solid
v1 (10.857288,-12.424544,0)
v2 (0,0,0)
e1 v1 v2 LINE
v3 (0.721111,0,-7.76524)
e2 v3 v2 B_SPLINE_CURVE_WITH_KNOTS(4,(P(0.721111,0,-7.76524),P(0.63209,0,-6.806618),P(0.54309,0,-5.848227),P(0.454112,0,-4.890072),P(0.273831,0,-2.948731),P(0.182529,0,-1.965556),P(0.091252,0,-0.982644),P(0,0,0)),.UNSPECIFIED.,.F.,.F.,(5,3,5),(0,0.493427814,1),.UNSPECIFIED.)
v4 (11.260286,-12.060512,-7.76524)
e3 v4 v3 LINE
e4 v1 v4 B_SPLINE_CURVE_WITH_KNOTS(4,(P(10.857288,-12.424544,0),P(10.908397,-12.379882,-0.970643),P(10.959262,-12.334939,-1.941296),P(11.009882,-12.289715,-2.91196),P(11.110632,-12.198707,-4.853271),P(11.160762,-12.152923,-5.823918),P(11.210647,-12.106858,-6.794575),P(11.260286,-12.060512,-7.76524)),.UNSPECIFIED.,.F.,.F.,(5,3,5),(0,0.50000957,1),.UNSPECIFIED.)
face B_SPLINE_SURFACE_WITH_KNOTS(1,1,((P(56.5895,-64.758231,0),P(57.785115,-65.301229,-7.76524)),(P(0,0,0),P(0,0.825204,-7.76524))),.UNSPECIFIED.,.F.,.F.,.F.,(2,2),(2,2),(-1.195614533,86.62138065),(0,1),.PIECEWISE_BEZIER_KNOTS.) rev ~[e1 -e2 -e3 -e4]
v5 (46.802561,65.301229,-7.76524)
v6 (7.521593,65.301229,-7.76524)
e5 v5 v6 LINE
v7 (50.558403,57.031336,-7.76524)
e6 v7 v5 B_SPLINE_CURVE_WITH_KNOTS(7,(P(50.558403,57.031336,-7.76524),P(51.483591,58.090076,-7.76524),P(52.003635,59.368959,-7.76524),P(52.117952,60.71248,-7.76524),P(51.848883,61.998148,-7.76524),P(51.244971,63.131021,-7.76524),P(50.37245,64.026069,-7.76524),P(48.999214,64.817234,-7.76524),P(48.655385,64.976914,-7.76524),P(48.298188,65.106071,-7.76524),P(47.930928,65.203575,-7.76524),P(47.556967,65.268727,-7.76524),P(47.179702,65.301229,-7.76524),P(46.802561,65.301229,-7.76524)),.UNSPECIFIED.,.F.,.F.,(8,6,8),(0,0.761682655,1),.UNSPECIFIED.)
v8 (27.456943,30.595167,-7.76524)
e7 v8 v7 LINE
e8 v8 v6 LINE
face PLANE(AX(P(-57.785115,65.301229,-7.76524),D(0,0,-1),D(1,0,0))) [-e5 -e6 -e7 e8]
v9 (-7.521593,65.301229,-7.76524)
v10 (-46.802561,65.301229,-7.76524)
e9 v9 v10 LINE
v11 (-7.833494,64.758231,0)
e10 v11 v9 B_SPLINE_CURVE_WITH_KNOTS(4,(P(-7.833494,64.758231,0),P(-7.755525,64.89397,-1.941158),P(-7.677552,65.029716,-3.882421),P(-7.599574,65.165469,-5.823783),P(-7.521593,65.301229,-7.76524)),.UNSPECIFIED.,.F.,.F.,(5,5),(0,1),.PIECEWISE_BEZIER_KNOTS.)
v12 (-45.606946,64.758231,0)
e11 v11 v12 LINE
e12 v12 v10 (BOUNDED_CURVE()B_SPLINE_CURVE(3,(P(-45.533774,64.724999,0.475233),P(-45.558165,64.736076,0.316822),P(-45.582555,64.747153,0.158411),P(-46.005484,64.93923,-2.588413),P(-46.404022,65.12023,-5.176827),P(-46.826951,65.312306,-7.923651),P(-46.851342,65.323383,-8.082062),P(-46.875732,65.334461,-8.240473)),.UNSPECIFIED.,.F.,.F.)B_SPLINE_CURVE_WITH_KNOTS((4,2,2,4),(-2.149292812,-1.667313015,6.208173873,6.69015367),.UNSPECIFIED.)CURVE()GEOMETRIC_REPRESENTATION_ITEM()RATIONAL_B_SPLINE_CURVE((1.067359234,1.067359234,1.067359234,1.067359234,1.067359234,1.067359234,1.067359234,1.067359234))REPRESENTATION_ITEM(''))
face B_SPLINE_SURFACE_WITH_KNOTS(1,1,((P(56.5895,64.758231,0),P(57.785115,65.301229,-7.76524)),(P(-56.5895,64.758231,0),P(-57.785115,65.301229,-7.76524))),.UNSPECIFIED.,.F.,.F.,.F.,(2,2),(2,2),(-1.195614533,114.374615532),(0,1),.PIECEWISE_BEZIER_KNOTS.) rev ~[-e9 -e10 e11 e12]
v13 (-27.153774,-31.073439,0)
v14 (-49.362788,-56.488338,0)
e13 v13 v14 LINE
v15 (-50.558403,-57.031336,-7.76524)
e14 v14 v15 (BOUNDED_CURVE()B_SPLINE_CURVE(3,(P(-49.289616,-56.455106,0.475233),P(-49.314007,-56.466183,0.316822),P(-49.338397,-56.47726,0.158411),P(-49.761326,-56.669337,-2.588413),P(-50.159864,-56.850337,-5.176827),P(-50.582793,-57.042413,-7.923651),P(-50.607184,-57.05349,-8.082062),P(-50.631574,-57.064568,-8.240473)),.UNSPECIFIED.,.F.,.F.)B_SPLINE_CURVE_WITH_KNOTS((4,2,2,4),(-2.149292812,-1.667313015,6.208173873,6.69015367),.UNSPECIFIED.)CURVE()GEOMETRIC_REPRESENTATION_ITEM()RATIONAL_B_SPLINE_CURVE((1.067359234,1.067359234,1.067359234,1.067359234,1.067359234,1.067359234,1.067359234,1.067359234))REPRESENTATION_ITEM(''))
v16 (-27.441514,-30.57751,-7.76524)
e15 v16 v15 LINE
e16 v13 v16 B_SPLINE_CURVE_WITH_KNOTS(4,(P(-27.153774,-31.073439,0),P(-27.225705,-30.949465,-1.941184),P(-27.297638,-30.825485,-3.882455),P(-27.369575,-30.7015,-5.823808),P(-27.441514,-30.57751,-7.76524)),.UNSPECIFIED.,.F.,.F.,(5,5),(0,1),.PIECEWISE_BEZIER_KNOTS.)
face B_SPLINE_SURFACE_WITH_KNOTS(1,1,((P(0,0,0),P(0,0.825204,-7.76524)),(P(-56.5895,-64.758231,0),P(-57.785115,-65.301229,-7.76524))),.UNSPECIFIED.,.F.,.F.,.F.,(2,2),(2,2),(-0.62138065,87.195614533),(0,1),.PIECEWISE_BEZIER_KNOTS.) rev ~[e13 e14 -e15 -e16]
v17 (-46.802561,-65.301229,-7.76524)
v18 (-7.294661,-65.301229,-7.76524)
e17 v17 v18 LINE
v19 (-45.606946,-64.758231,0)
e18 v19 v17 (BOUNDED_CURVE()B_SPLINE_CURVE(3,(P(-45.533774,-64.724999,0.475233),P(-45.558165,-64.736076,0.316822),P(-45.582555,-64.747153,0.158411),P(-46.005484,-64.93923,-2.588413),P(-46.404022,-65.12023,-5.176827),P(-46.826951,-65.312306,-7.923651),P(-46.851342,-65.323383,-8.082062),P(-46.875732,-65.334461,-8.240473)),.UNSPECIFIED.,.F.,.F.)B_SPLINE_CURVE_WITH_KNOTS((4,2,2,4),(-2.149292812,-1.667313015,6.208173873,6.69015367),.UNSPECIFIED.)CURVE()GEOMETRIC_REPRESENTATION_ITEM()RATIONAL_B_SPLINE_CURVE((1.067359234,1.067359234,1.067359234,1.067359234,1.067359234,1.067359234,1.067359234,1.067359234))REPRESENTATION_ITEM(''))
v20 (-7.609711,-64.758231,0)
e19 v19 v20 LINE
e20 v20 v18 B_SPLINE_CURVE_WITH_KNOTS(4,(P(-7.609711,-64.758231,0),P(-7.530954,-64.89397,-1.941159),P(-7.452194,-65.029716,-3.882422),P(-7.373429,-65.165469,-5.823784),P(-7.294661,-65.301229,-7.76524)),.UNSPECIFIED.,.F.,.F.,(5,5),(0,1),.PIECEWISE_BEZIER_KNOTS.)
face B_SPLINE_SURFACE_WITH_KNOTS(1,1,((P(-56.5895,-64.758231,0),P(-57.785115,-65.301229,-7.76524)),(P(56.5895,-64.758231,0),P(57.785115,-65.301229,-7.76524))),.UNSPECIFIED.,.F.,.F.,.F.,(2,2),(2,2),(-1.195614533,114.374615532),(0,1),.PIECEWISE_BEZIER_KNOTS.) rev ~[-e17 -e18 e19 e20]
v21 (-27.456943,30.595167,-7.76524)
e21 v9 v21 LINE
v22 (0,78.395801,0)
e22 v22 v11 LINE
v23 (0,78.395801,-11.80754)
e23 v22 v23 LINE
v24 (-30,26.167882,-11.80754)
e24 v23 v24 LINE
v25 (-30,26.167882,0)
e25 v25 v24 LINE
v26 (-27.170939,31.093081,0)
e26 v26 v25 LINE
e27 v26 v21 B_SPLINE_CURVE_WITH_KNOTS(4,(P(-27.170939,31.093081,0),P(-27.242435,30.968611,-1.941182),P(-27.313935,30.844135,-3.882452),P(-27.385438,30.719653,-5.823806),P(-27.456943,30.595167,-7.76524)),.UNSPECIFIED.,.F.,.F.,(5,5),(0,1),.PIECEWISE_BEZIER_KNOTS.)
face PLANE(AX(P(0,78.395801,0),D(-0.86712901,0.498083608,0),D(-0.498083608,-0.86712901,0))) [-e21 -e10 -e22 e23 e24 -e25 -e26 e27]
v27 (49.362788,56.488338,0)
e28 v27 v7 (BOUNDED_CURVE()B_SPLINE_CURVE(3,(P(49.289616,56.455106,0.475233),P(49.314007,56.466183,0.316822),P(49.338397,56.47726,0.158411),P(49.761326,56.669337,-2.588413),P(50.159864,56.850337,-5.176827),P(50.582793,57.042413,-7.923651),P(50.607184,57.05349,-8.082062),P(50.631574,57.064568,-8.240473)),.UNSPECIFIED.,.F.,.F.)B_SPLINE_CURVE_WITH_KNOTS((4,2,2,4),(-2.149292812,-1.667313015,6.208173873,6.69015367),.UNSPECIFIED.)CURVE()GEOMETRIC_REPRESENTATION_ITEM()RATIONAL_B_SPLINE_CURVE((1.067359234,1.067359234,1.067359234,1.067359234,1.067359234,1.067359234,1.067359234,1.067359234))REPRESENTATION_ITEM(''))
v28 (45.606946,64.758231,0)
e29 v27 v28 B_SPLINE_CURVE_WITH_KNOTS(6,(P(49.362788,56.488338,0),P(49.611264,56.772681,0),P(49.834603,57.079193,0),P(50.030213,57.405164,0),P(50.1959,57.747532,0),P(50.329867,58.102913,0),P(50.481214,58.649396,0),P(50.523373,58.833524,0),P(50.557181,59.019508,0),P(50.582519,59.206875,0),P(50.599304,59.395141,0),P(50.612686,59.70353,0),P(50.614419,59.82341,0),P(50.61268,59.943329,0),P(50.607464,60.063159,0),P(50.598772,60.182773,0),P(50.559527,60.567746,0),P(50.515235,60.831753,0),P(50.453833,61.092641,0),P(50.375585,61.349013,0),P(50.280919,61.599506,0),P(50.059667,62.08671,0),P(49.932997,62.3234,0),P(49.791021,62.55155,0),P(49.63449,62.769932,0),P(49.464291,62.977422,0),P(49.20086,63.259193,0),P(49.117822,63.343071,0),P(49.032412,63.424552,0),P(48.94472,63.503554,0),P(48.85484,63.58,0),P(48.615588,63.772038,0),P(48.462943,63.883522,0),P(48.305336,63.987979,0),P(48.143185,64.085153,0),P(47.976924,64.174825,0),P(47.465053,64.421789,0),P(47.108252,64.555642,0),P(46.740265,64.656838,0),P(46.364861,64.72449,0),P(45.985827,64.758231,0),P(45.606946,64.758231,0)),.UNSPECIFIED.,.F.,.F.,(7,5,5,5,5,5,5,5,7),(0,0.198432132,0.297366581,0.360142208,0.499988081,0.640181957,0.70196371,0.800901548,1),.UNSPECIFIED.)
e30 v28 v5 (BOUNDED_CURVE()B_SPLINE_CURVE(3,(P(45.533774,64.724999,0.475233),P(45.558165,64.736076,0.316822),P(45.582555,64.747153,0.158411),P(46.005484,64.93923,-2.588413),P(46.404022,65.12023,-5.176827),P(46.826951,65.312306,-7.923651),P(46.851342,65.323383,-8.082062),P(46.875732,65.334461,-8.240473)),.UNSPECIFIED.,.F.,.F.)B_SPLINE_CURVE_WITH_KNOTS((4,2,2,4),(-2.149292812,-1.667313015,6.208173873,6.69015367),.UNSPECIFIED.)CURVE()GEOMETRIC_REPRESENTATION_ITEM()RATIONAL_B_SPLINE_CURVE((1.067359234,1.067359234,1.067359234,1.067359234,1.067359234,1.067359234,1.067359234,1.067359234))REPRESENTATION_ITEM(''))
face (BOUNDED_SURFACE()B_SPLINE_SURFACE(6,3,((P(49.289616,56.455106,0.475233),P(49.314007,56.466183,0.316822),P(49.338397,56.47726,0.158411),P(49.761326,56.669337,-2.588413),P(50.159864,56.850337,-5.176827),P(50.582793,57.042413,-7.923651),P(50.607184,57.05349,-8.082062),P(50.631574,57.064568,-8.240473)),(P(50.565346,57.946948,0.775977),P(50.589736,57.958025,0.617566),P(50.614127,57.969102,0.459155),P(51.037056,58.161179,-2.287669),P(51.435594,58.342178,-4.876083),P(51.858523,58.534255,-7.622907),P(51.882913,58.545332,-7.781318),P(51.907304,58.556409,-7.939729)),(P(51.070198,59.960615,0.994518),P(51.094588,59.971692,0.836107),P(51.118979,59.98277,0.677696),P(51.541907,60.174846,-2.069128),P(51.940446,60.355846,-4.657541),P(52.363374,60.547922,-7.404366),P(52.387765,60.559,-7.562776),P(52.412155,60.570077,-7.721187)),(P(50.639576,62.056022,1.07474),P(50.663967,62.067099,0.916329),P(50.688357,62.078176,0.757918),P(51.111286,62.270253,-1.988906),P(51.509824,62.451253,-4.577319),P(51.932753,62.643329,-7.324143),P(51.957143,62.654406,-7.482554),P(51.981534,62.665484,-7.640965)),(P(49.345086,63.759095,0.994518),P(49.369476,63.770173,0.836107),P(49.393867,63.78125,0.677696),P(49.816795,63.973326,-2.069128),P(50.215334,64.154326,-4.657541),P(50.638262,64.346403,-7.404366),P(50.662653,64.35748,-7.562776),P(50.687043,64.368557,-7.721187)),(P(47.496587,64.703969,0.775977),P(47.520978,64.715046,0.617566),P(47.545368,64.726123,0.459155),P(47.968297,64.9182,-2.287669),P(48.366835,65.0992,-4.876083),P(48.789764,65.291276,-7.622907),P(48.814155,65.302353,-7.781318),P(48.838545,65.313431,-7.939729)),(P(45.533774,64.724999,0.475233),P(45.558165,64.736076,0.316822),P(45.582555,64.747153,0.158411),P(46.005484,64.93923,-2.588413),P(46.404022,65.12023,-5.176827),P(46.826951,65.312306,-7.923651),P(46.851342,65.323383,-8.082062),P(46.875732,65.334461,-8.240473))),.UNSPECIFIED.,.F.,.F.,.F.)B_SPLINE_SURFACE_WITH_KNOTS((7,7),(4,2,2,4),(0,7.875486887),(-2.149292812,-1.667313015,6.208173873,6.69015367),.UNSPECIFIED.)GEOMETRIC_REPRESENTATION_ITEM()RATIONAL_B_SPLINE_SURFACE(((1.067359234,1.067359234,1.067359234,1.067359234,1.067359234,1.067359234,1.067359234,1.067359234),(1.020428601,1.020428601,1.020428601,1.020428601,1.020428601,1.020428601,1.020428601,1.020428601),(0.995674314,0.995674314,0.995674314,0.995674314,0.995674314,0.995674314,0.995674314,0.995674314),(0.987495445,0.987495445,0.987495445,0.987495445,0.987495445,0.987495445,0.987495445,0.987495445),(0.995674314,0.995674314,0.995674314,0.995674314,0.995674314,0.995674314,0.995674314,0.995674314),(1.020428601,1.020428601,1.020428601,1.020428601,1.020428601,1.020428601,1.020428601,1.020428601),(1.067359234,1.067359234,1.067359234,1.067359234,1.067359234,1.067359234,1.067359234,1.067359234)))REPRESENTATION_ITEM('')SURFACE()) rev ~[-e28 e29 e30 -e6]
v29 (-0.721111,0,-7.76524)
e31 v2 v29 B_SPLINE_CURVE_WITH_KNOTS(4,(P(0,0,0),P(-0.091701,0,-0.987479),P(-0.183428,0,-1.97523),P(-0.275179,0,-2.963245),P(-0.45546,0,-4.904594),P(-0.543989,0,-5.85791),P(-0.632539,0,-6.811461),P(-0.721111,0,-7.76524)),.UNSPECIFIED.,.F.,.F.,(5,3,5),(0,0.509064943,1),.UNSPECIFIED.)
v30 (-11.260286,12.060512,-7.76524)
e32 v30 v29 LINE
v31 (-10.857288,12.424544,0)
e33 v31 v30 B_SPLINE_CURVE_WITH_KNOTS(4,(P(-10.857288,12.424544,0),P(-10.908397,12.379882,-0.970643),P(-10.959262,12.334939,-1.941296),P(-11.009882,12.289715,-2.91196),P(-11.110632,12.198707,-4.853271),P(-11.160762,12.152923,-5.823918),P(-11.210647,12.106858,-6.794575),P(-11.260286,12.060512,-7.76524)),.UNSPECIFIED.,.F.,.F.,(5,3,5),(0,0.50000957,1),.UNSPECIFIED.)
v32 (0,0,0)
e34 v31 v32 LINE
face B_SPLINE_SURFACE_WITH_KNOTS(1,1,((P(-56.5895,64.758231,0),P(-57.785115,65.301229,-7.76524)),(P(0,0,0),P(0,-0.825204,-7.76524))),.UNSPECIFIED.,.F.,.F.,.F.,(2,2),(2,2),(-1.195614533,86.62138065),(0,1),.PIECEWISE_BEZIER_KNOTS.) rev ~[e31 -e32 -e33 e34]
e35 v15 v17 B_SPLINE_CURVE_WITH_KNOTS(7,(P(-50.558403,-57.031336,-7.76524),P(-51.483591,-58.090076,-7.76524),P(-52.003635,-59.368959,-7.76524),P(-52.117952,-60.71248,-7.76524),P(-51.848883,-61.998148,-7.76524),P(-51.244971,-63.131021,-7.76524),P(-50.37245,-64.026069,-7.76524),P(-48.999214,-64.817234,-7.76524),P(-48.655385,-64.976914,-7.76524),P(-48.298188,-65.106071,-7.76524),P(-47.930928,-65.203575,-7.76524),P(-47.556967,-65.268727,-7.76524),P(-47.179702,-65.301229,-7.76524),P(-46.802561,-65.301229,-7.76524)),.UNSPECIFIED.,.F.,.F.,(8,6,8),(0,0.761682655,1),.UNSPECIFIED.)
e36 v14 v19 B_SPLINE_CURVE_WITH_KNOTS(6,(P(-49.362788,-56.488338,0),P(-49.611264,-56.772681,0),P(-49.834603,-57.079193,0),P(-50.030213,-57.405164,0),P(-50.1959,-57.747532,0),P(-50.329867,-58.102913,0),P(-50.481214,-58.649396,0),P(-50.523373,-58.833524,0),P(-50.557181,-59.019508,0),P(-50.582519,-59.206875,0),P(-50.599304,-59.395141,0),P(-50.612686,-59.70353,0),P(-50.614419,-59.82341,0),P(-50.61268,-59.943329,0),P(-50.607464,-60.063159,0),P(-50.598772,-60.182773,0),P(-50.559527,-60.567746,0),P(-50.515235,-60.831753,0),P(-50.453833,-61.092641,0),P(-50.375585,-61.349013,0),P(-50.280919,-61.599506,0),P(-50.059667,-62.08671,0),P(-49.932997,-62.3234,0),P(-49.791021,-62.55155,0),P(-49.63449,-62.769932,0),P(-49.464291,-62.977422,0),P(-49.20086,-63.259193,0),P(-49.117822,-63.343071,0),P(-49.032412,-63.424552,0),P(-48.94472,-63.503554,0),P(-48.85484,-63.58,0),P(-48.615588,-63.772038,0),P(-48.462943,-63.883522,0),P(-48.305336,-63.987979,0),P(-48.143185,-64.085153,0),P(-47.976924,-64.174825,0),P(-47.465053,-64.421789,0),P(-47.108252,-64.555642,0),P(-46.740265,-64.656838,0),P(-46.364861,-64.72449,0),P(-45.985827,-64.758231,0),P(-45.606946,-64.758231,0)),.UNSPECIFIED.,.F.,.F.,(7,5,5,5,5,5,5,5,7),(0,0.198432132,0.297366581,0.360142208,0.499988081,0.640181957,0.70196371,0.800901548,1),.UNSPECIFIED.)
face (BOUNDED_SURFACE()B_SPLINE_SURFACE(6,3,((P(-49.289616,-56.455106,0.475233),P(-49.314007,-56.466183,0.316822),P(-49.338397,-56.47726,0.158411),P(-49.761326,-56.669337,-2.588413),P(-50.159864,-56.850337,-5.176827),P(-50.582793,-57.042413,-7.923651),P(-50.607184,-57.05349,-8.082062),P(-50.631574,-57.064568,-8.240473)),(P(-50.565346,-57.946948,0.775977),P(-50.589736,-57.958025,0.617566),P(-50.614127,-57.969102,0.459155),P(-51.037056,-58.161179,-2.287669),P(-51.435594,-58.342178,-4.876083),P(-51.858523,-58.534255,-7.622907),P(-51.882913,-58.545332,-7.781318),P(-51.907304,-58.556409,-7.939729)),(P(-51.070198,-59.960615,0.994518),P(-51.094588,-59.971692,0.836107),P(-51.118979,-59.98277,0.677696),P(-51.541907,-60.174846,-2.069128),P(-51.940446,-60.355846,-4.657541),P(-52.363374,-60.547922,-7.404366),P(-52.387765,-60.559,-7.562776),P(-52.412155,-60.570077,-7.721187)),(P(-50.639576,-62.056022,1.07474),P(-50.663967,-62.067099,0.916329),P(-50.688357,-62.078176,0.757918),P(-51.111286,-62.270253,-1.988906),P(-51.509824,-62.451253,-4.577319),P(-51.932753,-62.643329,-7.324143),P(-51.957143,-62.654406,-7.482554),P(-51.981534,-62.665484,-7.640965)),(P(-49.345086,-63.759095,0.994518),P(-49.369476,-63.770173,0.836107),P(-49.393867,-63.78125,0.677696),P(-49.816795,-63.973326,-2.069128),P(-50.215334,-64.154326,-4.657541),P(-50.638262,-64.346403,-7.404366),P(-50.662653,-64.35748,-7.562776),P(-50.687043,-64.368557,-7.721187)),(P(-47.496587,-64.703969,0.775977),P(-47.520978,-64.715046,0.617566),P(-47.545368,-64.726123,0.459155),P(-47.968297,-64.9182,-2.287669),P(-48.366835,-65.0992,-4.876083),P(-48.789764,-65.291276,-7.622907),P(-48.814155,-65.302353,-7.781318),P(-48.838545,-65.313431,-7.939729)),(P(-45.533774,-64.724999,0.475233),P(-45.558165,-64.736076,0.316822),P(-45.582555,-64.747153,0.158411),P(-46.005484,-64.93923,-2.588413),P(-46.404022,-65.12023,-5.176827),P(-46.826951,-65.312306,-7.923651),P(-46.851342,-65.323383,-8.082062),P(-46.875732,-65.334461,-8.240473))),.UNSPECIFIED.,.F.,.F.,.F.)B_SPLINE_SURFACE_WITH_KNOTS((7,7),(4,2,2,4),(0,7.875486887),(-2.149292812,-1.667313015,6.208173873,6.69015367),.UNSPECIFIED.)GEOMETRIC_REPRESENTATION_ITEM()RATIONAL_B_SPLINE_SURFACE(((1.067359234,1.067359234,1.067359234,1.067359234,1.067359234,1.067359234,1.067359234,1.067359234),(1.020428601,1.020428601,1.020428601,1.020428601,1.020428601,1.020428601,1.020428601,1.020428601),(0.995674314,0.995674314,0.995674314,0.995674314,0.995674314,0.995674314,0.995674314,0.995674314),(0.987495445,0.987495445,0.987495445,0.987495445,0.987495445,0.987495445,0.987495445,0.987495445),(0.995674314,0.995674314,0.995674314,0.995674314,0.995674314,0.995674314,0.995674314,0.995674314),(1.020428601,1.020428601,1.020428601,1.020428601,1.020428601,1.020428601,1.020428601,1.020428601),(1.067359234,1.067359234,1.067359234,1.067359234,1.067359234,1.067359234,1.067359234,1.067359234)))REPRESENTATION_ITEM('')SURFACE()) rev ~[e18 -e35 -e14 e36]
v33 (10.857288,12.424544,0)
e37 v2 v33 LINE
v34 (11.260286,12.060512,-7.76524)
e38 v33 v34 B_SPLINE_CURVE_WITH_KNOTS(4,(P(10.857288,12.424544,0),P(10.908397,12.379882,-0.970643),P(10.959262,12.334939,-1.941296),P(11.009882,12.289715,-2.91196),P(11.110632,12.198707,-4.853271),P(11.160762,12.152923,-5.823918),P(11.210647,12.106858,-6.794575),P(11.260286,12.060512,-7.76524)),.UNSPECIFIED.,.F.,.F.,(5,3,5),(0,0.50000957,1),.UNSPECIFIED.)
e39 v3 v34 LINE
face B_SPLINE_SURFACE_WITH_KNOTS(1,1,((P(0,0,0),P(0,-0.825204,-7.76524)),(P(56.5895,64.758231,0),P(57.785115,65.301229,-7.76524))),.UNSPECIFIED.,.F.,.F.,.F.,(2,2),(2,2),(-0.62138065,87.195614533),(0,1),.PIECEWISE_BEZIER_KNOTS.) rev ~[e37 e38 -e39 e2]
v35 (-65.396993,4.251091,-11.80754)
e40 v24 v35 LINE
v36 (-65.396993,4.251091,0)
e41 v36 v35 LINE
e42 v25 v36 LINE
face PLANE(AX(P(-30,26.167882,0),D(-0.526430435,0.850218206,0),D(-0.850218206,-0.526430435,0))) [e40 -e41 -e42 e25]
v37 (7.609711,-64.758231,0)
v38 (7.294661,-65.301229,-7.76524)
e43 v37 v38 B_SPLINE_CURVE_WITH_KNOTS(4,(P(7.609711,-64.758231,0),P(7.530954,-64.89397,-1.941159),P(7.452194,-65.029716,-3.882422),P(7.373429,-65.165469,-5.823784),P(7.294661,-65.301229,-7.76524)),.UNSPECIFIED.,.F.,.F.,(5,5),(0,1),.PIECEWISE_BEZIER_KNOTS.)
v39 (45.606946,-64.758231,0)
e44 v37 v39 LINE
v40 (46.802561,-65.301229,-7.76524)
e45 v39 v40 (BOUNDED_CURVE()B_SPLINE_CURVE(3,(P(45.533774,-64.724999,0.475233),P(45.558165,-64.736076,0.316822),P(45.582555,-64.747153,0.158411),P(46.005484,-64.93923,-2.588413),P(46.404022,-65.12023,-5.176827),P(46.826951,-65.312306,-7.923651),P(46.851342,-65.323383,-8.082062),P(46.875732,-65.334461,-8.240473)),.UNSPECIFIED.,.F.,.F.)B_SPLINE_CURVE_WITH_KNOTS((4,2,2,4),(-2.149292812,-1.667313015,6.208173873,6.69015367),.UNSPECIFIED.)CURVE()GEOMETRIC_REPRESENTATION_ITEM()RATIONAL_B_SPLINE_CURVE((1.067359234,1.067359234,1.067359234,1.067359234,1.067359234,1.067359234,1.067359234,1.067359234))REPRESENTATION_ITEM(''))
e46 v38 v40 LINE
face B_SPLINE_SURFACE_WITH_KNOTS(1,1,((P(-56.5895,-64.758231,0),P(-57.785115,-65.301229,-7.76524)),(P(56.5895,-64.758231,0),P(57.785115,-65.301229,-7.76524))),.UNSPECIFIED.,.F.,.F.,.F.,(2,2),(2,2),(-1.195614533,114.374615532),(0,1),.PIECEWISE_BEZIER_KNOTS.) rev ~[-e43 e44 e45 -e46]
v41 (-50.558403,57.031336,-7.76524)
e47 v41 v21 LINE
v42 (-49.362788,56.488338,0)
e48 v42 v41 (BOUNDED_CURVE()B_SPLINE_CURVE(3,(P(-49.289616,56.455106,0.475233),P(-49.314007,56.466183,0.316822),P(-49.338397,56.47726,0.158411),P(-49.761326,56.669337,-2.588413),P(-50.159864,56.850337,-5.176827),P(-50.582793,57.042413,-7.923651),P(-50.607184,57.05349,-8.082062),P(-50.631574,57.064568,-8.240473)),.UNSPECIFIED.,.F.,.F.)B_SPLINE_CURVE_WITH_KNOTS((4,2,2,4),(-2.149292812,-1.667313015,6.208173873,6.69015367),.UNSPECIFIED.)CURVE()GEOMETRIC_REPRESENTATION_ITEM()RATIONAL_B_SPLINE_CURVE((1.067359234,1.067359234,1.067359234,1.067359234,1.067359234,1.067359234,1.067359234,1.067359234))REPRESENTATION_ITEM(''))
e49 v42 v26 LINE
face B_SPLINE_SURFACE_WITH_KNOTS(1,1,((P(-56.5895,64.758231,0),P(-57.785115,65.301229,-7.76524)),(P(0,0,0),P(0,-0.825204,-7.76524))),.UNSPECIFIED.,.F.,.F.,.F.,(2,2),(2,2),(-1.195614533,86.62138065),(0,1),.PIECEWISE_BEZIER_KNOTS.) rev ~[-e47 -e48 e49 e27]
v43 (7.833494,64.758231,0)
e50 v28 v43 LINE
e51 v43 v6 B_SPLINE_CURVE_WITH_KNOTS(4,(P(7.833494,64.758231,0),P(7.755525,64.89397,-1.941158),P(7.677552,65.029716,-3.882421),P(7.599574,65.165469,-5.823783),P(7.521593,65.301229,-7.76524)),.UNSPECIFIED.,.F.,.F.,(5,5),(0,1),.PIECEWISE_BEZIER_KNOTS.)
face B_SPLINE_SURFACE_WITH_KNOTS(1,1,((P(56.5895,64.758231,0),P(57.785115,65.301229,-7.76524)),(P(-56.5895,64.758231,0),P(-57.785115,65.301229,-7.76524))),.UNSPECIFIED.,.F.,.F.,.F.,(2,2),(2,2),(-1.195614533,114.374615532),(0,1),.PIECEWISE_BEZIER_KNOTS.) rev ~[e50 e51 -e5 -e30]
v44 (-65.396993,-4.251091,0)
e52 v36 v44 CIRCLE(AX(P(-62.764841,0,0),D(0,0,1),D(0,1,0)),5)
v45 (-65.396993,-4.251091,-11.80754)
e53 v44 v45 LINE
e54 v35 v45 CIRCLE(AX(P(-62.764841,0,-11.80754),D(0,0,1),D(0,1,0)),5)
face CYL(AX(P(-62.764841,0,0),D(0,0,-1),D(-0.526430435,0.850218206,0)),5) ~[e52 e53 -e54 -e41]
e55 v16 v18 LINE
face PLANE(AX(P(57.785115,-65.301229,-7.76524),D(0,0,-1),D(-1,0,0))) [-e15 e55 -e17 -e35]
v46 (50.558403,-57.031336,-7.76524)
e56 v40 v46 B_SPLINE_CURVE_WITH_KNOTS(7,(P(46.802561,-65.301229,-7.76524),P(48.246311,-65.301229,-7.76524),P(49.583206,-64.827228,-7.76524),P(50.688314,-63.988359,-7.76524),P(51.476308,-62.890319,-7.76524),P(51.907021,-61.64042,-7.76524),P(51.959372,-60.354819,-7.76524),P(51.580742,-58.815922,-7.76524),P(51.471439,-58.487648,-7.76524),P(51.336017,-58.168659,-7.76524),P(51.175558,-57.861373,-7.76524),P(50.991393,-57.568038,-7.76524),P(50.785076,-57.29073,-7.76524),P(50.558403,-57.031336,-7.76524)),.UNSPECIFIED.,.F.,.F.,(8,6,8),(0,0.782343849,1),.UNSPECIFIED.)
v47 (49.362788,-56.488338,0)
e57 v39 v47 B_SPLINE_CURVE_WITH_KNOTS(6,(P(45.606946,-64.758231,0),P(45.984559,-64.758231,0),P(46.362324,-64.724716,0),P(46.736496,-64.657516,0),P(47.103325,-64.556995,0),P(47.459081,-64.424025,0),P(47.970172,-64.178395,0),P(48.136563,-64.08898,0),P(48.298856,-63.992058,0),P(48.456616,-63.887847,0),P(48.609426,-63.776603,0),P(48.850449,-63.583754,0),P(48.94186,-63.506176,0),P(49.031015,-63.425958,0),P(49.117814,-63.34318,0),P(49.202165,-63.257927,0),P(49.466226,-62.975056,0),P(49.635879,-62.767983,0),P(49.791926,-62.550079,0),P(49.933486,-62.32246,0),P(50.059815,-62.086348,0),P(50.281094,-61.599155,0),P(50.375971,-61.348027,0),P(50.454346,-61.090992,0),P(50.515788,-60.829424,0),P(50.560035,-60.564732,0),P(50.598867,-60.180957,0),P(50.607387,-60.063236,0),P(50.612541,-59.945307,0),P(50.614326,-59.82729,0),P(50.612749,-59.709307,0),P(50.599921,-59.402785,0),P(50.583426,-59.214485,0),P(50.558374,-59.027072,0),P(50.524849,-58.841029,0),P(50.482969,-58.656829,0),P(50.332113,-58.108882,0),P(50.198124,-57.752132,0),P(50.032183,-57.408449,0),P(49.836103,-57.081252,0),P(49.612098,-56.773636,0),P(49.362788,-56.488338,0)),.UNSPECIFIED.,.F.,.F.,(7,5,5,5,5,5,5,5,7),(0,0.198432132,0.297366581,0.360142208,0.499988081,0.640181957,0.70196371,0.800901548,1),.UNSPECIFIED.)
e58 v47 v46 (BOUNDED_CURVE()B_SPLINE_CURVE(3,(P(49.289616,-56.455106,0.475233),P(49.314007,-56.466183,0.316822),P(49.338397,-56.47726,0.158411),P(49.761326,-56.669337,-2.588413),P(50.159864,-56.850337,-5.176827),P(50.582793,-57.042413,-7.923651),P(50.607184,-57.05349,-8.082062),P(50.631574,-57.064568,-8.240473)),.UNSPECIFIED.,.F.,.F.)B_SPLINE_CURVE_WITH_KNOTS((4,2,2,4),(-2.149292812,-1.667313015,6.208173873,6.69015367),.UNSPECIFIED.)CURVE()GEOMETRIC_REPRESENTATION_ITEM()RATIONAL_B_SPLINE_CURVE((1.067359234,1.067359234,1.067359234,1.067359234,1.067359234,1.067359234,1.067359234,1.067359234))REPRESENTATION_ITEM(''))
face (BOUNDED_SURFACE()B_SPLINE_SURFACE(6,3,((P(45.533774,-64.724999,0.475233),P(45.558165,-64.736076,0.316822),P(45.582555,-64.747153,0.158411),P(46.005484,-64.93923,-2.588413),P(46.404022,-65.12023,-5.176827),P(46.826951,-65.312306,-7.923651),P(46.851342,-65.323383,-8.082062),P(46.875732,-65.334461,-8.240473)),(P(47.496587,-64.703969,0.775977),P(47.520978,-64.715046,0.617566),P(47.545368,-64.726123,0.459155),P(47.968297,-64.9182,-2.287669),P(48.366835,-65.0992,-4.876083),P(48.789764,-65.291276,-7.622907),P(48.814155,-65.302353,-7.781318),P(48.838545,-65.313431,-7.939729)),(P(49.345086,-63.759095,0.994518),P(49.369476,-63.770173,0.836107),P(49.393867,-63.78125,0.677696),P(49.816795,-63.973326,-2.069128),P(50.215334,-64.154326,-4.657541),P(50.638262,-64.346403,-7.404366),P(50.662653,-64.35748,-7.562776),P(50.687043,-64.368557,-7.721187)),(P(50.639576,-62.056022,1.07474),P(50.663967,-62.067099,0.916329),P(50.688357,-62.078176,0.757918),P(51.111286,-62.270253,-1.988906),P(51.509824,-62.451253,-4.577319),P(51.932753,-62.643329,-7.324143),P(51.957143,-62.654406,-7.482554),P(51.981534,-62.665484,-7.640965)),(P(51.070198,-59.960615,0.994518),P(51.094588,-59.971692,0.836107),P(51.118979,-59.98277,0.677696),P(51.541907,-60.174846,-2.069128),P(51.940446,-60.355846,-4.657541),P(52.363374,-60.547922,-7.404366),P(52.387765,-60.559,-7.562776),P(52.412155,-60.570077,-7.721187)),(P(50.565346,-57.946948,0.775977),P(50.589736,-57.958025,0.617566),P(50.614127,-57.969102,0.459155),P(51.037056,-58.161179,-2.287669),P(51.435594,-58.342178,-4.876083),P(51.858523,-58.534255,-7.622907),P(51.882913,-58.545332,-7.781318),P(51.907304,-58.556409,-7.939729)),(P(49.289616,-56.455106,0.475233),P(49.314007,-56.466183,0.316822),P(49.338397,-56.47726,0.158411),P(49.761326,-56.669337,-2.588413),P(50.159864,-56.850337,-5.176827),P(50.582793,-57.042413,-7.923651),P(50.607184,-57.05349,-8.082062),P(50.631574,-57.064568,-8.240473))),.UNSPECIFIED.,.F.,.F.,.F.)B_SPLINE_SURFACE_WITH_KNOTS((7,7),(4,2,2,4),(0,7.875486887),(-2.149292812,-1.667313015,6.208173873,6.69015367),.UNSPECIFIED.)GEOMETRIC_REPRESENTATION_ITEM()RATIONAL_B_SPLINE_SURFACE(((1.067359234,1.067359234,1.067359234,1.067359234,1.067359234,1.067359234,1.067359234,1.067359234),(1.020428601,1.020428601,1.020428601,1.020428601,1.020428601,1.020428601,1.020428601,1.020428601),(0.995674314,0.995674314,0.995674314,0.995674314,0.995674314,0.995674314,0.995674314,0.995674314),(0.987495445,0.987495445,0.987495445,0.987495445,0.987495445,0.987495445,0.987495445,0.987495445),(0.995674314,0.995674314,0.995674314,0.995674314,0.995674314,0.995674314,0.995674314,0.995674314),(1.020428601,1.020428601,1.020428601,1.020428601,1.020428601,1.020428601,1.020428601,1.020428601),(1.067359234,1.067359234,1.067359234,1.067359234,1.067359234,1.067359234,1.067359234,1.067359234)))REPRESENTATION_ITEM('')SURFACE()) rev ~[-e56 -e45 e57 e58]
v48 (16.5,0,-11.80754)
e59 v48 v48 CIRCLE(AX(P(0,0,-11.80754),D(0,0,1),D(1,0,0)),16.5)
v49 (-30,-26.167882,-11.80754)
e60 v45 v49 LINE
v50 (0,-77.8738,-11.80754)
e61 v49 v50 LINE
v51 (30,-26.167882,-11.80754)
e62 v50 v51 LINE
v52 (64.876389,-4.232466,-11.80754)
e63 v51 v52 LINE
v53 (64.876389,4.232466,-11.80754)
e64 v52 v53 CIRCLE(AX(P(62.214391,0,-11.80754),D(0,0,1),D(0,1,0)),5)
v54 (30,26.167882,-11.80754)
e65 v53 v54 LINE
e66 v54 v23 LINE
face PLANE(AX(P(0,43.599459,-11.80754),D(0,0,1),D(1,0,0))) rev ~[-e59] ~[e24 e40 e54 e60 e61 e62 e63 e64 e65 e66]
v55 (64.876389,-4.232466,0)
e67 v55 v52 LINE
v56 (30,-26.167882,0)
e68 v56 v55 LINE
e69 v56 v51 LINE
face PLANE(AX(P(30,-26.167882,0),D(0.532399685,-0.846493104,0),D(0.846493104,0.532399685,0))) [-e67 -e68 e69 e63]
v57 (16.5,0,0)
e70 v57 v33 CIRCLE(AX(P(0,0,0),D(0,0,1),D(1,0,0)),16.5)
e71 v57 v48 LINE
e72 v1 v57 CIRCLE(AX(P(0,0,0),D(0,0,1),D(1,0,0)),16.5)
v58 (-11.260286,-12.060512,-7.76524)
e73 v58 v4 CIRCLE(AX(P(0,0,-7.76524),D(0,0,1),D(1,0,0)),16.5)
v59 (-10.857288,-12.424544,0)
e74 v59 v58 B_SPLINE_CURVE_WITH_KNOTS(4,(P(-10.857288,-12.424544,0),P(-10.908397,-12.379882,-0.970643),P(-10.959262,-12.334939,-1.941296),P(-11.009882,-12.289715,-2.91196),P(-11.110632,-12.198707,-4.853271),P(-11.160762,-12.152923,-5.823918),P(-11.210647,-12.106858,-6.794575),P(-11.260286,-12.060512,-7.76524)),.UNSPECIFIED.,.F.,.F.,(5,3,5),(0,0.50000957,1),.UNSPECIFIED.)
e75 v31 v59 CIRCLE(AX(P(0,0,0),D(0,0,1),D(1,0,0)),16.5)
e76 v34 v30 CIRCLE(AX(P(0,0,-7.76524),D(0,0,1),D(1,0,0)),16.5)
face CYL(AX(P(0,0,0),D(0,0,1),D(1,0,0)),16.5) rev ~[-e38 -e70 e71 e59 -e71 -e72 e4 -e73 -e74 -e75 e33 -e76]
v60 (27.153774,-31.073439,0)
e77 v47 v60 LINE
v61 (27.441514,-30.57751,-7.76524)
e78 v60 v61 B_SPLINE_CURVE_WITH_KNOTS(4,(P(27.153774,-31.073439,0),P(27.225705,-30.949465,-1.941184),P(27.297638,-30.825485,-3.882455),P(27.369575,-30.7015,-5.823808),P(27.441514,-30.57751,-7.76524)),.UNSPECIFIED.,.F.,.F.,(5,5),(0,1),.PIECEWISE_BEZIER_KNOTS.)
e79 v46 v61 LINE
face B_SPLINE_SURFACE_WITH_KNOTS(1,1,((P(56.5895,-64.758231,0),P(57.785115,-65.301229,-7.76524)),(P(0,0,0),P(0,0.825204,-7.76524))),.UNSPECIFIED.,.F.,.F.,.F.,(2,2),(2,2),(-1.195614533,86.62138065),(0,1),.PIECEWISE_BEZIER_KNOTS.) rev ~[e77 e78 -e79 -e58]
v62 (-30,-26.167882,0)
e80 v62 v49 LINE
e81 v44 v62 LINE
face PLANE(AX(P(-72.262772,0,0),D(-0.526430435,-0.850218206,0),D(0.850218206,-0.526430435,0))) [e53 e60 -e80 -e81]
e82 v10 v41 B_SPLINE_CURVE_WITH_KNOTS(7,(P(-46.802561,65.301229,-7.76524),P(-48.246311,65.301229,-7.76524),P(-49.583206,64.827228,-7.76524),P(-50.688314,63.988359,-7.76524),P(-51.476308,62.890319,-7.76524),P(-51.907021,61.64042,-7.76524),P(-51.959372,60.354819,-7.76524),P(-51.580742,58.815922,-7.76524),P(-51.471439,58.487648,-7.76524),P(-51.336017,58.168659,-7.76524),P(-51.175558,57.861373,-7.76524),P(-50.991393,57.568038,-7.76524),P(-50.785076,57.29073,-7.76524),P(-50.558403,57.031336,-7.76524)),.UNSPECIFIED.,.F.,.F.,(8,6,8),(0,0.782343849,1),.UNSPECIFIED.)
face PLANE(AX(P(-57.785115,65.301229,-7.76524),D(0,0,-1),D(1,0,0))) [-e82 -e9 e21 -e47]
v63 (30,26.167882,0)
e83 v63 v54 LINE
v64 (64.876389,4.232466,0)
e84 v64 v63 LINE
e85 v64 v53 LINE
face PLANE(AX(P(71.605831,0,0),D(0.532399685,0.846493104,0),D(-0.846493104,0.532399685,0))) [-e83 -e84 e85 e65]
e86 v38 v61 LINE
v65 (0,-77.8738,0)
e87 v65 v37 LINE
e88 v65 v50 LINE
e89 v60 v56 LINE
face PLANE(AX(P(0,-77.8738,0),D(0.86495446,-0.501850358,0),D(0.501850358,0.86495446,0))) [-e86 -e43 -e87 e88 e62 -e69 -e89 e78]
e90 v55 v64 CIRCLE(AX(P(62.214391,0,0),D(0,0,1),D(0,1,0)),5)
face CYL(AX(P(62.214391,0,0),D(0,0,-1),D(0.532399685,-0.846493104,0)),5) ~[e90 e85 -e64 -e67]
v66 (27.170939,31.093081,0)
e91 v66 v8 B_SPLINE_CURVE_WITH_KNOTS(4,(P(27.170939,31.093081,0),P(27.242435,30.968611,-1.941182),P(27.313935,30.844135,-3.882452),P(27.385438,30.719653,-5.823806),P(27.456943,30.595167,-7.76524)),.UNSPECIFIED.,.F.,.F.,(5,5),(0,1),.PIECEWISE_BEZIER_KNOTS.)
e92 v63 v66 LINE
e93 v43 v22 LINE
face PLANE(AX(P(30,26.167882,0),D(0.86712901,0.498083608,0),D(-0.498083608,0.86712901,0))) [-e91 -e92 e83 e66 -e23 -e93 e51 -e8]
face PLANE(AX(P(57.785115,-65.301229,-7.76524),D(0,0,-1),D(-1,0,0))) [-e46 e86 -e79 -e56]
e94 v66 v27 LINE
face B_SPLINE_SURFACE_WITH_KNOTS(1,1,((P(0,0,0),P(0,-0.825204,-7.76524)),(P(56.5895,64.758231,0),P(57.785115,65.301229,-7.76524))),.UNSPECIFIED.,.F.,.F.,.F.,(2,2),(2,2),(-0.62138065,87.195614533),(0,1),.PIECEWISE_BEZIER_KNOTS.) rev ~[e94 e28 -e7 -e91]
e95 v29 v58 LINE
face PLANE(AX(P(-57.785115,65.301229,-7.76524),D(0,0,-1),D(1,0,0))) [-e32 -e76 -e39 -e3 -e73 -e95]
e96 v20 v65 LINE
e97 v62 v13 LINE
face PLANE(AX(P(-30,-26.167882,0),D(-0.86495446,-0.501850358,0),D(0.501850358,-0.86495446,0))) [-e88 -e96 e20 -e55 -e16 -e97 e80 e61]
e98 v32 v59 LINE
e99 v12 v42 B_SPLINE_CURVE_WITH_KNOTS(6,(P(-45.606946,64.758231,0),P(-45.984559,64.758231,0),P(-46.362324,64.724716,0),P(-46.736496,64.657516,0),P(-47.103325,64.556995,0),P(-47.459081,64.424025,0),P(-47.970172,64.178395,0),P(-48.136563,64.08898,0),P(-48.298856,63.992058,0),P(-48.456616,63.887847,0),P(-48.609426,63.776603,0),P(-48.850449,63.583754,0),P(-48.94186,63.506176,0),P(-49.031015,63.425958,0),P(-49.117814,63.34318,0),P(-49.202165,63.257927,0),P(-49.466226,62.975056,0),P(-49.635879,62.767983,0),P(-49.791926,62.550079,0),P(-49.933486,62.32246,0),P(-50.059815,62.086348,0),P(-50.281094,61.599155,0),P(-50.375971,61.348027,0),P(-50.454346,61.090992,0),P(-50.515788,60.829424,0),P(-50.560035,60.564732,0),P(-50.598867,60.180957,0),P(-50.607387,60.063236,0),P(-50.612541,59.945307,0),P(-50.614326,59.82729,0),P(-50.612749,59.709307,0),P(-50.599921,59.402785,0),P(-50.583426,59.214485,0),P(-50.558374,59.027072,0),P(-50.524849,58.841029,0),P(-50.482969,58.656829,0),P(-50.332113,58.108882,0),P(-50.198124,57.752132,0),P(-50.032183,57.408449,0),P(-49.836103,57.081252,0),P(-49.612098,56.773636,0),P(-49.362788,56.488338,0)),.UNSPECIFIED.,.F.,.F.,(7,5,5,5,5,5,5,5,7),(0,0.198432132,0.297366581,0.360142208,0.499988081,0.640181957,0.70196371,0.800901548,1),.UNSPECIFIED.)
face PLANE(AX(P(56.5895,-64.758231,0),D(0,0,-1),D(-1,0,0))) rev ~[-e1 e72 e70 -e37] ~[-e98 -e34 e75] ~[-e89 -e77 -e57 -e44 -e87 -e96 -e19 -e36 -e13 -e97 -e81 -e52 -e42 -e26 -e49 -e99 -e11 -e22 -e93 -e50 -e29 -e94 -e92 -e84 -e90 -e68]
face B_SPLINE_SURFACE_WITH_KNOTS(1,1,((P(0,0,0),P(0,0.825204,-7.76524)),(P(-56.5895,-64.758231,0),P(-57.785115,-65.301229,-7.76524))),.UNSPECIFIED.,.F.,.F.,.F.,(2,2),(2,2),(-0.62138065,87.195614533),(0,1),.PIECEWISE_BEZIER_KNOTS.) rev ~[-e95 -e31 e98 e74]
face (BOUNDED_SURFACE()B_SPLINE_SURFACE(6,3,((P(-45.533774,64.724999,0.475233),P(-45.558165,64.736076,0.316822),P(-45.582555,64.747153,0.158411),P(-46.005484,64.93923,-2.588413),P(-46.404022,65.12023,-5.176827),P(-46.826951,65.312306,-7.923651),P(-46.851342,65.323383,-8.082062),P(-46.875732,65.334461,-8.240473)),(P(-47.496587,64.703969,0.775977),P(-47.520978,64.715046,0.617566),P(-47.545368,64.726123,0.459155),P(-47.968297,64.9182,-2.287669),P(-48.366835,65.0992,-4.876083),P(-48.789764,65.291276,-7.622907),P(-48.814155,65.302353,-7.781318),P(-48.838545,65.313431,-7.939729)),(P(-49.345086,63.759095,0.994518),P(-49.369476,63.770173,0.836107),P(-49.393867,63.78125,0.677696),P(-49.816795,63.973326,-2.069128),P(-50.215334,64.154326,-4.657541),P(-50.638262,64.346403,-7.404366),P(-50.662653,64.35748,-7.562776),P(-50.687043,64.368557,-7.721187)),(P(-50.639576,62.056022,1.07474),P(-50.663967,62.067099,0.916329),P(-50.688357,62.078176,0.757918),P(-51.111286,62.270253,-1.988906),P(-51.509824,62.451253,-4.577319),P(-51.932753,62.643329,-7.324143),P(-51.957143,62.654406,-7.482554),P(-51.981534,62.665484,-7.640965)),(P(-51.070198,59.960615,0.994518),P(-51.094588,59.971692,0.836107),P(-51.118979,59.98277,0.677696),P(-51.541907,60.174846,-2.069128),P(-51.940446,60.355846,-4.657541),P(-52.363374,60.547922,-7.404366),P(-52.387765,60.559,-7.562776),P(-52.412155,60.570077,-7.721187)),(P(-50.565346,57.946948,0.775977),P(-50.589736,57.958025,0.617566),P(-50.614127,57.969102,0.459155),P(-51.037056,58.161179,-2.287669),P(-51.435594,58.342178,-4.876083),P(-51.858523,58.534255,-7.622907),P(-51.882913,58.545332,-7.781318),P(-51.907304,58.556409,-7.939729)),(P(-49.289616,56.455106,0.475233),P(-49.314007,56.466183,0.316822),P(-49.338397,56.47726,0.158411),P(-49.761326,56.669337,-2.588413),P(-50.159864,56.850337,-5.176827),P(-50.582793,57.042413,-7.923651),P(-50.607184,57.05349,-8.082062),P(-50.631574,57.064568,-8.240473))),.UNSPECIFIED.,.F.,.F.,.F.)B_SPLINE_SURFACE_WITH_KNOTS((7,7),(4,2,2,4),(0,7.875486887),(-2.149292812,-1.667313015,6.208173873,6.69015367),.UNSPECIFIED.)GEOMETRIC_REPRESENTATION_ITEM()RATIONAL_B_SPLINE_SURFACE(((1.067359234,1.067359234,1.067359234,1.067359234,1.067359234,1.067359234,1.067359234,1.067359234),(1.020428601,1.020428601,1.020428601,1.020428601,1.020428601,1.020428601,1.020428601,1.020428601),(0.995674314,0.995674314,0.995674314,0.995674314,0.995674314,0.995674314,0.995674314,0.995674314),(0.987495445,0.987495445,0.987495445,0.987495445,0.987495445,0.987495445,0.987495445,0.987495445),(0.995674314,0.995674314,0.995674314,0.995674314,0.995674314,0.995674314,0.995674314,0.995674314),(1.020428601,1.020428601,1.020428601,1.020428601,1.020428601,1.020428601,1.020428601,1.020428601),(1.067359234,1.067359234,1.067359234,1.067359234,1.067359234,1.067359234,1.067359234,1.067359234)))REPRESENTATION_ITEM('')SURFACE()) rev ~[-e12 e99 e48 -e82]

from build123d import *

# Parameters (mm, degrees)
F0_W     = 60
F0_H     = 52.3357634497
F0_R     = 16.5
F1_DEPTH = 11.80754
F3_DEPTH = 7.76524
F3_TAPER = -4
F4_R     = 5
F5_R     = 5


with BuildPart() as f1:
    # F0 (on Top) → F1 (new body)
    with BuildSketch(Plane.XY):
        Polygon((0, 78.3958006123), (-30, 26.1678817249), (30, 26.1678817249), align=None)
        Rectangle(F0_W, F0_H)
        Circle(F0_R, mode=Mode.SUBTRACT)
        Polygon((-30, -26.1678817249), (-30, 26.1678817249), (-72.2627720197, 0), align=None)
        Polygon((71.6058312025, 0), (30, 26.1678817249), (30, -26.1678817249), align=None)
        Polygon((30, -26.1678817249), (-30, -26.1678817249), (0, -77.8738003652), align=None)
    extrude(amount=-F1_DEPTH)

    # F2 (on Top) → F3 (join)
    with BuildSketch(Plane.XY):
        Polygon((56.5895004995, -64.7582306214), (0, 0), (-56.5895004995, -64.7582306214), align=None)
        Polygon((-56.5895004995, 64.7582306214), (0, 0), (56.5895004995, 64.7582306214), align=None)
    extrude(amount=-F3_DEPTH, taper=F3_TAPER)

    # F4
    f4_edges = [f1.edges().sort_by_distance(p)[0] for p in [
        (-57.187308, 65.02973, -3.88262),
        (-72.262772, 0, -5.90377),
        (-57.187308, -65.02973, -3.88262),
    ]]
    fillet(f4_edges, radius=F4_R)

    # F5
    f5_edges = [f1.edges().sort_by_distance(p)[0] for p in [
        (57.187308, 65.02973, -3.88262),
        (71.605831, 0, -5.90377),
        (57.187308, -65.02973, -3.88262),
    ]]
    fillet(f5_edges, radius=F5_R)


solid = f1.part
